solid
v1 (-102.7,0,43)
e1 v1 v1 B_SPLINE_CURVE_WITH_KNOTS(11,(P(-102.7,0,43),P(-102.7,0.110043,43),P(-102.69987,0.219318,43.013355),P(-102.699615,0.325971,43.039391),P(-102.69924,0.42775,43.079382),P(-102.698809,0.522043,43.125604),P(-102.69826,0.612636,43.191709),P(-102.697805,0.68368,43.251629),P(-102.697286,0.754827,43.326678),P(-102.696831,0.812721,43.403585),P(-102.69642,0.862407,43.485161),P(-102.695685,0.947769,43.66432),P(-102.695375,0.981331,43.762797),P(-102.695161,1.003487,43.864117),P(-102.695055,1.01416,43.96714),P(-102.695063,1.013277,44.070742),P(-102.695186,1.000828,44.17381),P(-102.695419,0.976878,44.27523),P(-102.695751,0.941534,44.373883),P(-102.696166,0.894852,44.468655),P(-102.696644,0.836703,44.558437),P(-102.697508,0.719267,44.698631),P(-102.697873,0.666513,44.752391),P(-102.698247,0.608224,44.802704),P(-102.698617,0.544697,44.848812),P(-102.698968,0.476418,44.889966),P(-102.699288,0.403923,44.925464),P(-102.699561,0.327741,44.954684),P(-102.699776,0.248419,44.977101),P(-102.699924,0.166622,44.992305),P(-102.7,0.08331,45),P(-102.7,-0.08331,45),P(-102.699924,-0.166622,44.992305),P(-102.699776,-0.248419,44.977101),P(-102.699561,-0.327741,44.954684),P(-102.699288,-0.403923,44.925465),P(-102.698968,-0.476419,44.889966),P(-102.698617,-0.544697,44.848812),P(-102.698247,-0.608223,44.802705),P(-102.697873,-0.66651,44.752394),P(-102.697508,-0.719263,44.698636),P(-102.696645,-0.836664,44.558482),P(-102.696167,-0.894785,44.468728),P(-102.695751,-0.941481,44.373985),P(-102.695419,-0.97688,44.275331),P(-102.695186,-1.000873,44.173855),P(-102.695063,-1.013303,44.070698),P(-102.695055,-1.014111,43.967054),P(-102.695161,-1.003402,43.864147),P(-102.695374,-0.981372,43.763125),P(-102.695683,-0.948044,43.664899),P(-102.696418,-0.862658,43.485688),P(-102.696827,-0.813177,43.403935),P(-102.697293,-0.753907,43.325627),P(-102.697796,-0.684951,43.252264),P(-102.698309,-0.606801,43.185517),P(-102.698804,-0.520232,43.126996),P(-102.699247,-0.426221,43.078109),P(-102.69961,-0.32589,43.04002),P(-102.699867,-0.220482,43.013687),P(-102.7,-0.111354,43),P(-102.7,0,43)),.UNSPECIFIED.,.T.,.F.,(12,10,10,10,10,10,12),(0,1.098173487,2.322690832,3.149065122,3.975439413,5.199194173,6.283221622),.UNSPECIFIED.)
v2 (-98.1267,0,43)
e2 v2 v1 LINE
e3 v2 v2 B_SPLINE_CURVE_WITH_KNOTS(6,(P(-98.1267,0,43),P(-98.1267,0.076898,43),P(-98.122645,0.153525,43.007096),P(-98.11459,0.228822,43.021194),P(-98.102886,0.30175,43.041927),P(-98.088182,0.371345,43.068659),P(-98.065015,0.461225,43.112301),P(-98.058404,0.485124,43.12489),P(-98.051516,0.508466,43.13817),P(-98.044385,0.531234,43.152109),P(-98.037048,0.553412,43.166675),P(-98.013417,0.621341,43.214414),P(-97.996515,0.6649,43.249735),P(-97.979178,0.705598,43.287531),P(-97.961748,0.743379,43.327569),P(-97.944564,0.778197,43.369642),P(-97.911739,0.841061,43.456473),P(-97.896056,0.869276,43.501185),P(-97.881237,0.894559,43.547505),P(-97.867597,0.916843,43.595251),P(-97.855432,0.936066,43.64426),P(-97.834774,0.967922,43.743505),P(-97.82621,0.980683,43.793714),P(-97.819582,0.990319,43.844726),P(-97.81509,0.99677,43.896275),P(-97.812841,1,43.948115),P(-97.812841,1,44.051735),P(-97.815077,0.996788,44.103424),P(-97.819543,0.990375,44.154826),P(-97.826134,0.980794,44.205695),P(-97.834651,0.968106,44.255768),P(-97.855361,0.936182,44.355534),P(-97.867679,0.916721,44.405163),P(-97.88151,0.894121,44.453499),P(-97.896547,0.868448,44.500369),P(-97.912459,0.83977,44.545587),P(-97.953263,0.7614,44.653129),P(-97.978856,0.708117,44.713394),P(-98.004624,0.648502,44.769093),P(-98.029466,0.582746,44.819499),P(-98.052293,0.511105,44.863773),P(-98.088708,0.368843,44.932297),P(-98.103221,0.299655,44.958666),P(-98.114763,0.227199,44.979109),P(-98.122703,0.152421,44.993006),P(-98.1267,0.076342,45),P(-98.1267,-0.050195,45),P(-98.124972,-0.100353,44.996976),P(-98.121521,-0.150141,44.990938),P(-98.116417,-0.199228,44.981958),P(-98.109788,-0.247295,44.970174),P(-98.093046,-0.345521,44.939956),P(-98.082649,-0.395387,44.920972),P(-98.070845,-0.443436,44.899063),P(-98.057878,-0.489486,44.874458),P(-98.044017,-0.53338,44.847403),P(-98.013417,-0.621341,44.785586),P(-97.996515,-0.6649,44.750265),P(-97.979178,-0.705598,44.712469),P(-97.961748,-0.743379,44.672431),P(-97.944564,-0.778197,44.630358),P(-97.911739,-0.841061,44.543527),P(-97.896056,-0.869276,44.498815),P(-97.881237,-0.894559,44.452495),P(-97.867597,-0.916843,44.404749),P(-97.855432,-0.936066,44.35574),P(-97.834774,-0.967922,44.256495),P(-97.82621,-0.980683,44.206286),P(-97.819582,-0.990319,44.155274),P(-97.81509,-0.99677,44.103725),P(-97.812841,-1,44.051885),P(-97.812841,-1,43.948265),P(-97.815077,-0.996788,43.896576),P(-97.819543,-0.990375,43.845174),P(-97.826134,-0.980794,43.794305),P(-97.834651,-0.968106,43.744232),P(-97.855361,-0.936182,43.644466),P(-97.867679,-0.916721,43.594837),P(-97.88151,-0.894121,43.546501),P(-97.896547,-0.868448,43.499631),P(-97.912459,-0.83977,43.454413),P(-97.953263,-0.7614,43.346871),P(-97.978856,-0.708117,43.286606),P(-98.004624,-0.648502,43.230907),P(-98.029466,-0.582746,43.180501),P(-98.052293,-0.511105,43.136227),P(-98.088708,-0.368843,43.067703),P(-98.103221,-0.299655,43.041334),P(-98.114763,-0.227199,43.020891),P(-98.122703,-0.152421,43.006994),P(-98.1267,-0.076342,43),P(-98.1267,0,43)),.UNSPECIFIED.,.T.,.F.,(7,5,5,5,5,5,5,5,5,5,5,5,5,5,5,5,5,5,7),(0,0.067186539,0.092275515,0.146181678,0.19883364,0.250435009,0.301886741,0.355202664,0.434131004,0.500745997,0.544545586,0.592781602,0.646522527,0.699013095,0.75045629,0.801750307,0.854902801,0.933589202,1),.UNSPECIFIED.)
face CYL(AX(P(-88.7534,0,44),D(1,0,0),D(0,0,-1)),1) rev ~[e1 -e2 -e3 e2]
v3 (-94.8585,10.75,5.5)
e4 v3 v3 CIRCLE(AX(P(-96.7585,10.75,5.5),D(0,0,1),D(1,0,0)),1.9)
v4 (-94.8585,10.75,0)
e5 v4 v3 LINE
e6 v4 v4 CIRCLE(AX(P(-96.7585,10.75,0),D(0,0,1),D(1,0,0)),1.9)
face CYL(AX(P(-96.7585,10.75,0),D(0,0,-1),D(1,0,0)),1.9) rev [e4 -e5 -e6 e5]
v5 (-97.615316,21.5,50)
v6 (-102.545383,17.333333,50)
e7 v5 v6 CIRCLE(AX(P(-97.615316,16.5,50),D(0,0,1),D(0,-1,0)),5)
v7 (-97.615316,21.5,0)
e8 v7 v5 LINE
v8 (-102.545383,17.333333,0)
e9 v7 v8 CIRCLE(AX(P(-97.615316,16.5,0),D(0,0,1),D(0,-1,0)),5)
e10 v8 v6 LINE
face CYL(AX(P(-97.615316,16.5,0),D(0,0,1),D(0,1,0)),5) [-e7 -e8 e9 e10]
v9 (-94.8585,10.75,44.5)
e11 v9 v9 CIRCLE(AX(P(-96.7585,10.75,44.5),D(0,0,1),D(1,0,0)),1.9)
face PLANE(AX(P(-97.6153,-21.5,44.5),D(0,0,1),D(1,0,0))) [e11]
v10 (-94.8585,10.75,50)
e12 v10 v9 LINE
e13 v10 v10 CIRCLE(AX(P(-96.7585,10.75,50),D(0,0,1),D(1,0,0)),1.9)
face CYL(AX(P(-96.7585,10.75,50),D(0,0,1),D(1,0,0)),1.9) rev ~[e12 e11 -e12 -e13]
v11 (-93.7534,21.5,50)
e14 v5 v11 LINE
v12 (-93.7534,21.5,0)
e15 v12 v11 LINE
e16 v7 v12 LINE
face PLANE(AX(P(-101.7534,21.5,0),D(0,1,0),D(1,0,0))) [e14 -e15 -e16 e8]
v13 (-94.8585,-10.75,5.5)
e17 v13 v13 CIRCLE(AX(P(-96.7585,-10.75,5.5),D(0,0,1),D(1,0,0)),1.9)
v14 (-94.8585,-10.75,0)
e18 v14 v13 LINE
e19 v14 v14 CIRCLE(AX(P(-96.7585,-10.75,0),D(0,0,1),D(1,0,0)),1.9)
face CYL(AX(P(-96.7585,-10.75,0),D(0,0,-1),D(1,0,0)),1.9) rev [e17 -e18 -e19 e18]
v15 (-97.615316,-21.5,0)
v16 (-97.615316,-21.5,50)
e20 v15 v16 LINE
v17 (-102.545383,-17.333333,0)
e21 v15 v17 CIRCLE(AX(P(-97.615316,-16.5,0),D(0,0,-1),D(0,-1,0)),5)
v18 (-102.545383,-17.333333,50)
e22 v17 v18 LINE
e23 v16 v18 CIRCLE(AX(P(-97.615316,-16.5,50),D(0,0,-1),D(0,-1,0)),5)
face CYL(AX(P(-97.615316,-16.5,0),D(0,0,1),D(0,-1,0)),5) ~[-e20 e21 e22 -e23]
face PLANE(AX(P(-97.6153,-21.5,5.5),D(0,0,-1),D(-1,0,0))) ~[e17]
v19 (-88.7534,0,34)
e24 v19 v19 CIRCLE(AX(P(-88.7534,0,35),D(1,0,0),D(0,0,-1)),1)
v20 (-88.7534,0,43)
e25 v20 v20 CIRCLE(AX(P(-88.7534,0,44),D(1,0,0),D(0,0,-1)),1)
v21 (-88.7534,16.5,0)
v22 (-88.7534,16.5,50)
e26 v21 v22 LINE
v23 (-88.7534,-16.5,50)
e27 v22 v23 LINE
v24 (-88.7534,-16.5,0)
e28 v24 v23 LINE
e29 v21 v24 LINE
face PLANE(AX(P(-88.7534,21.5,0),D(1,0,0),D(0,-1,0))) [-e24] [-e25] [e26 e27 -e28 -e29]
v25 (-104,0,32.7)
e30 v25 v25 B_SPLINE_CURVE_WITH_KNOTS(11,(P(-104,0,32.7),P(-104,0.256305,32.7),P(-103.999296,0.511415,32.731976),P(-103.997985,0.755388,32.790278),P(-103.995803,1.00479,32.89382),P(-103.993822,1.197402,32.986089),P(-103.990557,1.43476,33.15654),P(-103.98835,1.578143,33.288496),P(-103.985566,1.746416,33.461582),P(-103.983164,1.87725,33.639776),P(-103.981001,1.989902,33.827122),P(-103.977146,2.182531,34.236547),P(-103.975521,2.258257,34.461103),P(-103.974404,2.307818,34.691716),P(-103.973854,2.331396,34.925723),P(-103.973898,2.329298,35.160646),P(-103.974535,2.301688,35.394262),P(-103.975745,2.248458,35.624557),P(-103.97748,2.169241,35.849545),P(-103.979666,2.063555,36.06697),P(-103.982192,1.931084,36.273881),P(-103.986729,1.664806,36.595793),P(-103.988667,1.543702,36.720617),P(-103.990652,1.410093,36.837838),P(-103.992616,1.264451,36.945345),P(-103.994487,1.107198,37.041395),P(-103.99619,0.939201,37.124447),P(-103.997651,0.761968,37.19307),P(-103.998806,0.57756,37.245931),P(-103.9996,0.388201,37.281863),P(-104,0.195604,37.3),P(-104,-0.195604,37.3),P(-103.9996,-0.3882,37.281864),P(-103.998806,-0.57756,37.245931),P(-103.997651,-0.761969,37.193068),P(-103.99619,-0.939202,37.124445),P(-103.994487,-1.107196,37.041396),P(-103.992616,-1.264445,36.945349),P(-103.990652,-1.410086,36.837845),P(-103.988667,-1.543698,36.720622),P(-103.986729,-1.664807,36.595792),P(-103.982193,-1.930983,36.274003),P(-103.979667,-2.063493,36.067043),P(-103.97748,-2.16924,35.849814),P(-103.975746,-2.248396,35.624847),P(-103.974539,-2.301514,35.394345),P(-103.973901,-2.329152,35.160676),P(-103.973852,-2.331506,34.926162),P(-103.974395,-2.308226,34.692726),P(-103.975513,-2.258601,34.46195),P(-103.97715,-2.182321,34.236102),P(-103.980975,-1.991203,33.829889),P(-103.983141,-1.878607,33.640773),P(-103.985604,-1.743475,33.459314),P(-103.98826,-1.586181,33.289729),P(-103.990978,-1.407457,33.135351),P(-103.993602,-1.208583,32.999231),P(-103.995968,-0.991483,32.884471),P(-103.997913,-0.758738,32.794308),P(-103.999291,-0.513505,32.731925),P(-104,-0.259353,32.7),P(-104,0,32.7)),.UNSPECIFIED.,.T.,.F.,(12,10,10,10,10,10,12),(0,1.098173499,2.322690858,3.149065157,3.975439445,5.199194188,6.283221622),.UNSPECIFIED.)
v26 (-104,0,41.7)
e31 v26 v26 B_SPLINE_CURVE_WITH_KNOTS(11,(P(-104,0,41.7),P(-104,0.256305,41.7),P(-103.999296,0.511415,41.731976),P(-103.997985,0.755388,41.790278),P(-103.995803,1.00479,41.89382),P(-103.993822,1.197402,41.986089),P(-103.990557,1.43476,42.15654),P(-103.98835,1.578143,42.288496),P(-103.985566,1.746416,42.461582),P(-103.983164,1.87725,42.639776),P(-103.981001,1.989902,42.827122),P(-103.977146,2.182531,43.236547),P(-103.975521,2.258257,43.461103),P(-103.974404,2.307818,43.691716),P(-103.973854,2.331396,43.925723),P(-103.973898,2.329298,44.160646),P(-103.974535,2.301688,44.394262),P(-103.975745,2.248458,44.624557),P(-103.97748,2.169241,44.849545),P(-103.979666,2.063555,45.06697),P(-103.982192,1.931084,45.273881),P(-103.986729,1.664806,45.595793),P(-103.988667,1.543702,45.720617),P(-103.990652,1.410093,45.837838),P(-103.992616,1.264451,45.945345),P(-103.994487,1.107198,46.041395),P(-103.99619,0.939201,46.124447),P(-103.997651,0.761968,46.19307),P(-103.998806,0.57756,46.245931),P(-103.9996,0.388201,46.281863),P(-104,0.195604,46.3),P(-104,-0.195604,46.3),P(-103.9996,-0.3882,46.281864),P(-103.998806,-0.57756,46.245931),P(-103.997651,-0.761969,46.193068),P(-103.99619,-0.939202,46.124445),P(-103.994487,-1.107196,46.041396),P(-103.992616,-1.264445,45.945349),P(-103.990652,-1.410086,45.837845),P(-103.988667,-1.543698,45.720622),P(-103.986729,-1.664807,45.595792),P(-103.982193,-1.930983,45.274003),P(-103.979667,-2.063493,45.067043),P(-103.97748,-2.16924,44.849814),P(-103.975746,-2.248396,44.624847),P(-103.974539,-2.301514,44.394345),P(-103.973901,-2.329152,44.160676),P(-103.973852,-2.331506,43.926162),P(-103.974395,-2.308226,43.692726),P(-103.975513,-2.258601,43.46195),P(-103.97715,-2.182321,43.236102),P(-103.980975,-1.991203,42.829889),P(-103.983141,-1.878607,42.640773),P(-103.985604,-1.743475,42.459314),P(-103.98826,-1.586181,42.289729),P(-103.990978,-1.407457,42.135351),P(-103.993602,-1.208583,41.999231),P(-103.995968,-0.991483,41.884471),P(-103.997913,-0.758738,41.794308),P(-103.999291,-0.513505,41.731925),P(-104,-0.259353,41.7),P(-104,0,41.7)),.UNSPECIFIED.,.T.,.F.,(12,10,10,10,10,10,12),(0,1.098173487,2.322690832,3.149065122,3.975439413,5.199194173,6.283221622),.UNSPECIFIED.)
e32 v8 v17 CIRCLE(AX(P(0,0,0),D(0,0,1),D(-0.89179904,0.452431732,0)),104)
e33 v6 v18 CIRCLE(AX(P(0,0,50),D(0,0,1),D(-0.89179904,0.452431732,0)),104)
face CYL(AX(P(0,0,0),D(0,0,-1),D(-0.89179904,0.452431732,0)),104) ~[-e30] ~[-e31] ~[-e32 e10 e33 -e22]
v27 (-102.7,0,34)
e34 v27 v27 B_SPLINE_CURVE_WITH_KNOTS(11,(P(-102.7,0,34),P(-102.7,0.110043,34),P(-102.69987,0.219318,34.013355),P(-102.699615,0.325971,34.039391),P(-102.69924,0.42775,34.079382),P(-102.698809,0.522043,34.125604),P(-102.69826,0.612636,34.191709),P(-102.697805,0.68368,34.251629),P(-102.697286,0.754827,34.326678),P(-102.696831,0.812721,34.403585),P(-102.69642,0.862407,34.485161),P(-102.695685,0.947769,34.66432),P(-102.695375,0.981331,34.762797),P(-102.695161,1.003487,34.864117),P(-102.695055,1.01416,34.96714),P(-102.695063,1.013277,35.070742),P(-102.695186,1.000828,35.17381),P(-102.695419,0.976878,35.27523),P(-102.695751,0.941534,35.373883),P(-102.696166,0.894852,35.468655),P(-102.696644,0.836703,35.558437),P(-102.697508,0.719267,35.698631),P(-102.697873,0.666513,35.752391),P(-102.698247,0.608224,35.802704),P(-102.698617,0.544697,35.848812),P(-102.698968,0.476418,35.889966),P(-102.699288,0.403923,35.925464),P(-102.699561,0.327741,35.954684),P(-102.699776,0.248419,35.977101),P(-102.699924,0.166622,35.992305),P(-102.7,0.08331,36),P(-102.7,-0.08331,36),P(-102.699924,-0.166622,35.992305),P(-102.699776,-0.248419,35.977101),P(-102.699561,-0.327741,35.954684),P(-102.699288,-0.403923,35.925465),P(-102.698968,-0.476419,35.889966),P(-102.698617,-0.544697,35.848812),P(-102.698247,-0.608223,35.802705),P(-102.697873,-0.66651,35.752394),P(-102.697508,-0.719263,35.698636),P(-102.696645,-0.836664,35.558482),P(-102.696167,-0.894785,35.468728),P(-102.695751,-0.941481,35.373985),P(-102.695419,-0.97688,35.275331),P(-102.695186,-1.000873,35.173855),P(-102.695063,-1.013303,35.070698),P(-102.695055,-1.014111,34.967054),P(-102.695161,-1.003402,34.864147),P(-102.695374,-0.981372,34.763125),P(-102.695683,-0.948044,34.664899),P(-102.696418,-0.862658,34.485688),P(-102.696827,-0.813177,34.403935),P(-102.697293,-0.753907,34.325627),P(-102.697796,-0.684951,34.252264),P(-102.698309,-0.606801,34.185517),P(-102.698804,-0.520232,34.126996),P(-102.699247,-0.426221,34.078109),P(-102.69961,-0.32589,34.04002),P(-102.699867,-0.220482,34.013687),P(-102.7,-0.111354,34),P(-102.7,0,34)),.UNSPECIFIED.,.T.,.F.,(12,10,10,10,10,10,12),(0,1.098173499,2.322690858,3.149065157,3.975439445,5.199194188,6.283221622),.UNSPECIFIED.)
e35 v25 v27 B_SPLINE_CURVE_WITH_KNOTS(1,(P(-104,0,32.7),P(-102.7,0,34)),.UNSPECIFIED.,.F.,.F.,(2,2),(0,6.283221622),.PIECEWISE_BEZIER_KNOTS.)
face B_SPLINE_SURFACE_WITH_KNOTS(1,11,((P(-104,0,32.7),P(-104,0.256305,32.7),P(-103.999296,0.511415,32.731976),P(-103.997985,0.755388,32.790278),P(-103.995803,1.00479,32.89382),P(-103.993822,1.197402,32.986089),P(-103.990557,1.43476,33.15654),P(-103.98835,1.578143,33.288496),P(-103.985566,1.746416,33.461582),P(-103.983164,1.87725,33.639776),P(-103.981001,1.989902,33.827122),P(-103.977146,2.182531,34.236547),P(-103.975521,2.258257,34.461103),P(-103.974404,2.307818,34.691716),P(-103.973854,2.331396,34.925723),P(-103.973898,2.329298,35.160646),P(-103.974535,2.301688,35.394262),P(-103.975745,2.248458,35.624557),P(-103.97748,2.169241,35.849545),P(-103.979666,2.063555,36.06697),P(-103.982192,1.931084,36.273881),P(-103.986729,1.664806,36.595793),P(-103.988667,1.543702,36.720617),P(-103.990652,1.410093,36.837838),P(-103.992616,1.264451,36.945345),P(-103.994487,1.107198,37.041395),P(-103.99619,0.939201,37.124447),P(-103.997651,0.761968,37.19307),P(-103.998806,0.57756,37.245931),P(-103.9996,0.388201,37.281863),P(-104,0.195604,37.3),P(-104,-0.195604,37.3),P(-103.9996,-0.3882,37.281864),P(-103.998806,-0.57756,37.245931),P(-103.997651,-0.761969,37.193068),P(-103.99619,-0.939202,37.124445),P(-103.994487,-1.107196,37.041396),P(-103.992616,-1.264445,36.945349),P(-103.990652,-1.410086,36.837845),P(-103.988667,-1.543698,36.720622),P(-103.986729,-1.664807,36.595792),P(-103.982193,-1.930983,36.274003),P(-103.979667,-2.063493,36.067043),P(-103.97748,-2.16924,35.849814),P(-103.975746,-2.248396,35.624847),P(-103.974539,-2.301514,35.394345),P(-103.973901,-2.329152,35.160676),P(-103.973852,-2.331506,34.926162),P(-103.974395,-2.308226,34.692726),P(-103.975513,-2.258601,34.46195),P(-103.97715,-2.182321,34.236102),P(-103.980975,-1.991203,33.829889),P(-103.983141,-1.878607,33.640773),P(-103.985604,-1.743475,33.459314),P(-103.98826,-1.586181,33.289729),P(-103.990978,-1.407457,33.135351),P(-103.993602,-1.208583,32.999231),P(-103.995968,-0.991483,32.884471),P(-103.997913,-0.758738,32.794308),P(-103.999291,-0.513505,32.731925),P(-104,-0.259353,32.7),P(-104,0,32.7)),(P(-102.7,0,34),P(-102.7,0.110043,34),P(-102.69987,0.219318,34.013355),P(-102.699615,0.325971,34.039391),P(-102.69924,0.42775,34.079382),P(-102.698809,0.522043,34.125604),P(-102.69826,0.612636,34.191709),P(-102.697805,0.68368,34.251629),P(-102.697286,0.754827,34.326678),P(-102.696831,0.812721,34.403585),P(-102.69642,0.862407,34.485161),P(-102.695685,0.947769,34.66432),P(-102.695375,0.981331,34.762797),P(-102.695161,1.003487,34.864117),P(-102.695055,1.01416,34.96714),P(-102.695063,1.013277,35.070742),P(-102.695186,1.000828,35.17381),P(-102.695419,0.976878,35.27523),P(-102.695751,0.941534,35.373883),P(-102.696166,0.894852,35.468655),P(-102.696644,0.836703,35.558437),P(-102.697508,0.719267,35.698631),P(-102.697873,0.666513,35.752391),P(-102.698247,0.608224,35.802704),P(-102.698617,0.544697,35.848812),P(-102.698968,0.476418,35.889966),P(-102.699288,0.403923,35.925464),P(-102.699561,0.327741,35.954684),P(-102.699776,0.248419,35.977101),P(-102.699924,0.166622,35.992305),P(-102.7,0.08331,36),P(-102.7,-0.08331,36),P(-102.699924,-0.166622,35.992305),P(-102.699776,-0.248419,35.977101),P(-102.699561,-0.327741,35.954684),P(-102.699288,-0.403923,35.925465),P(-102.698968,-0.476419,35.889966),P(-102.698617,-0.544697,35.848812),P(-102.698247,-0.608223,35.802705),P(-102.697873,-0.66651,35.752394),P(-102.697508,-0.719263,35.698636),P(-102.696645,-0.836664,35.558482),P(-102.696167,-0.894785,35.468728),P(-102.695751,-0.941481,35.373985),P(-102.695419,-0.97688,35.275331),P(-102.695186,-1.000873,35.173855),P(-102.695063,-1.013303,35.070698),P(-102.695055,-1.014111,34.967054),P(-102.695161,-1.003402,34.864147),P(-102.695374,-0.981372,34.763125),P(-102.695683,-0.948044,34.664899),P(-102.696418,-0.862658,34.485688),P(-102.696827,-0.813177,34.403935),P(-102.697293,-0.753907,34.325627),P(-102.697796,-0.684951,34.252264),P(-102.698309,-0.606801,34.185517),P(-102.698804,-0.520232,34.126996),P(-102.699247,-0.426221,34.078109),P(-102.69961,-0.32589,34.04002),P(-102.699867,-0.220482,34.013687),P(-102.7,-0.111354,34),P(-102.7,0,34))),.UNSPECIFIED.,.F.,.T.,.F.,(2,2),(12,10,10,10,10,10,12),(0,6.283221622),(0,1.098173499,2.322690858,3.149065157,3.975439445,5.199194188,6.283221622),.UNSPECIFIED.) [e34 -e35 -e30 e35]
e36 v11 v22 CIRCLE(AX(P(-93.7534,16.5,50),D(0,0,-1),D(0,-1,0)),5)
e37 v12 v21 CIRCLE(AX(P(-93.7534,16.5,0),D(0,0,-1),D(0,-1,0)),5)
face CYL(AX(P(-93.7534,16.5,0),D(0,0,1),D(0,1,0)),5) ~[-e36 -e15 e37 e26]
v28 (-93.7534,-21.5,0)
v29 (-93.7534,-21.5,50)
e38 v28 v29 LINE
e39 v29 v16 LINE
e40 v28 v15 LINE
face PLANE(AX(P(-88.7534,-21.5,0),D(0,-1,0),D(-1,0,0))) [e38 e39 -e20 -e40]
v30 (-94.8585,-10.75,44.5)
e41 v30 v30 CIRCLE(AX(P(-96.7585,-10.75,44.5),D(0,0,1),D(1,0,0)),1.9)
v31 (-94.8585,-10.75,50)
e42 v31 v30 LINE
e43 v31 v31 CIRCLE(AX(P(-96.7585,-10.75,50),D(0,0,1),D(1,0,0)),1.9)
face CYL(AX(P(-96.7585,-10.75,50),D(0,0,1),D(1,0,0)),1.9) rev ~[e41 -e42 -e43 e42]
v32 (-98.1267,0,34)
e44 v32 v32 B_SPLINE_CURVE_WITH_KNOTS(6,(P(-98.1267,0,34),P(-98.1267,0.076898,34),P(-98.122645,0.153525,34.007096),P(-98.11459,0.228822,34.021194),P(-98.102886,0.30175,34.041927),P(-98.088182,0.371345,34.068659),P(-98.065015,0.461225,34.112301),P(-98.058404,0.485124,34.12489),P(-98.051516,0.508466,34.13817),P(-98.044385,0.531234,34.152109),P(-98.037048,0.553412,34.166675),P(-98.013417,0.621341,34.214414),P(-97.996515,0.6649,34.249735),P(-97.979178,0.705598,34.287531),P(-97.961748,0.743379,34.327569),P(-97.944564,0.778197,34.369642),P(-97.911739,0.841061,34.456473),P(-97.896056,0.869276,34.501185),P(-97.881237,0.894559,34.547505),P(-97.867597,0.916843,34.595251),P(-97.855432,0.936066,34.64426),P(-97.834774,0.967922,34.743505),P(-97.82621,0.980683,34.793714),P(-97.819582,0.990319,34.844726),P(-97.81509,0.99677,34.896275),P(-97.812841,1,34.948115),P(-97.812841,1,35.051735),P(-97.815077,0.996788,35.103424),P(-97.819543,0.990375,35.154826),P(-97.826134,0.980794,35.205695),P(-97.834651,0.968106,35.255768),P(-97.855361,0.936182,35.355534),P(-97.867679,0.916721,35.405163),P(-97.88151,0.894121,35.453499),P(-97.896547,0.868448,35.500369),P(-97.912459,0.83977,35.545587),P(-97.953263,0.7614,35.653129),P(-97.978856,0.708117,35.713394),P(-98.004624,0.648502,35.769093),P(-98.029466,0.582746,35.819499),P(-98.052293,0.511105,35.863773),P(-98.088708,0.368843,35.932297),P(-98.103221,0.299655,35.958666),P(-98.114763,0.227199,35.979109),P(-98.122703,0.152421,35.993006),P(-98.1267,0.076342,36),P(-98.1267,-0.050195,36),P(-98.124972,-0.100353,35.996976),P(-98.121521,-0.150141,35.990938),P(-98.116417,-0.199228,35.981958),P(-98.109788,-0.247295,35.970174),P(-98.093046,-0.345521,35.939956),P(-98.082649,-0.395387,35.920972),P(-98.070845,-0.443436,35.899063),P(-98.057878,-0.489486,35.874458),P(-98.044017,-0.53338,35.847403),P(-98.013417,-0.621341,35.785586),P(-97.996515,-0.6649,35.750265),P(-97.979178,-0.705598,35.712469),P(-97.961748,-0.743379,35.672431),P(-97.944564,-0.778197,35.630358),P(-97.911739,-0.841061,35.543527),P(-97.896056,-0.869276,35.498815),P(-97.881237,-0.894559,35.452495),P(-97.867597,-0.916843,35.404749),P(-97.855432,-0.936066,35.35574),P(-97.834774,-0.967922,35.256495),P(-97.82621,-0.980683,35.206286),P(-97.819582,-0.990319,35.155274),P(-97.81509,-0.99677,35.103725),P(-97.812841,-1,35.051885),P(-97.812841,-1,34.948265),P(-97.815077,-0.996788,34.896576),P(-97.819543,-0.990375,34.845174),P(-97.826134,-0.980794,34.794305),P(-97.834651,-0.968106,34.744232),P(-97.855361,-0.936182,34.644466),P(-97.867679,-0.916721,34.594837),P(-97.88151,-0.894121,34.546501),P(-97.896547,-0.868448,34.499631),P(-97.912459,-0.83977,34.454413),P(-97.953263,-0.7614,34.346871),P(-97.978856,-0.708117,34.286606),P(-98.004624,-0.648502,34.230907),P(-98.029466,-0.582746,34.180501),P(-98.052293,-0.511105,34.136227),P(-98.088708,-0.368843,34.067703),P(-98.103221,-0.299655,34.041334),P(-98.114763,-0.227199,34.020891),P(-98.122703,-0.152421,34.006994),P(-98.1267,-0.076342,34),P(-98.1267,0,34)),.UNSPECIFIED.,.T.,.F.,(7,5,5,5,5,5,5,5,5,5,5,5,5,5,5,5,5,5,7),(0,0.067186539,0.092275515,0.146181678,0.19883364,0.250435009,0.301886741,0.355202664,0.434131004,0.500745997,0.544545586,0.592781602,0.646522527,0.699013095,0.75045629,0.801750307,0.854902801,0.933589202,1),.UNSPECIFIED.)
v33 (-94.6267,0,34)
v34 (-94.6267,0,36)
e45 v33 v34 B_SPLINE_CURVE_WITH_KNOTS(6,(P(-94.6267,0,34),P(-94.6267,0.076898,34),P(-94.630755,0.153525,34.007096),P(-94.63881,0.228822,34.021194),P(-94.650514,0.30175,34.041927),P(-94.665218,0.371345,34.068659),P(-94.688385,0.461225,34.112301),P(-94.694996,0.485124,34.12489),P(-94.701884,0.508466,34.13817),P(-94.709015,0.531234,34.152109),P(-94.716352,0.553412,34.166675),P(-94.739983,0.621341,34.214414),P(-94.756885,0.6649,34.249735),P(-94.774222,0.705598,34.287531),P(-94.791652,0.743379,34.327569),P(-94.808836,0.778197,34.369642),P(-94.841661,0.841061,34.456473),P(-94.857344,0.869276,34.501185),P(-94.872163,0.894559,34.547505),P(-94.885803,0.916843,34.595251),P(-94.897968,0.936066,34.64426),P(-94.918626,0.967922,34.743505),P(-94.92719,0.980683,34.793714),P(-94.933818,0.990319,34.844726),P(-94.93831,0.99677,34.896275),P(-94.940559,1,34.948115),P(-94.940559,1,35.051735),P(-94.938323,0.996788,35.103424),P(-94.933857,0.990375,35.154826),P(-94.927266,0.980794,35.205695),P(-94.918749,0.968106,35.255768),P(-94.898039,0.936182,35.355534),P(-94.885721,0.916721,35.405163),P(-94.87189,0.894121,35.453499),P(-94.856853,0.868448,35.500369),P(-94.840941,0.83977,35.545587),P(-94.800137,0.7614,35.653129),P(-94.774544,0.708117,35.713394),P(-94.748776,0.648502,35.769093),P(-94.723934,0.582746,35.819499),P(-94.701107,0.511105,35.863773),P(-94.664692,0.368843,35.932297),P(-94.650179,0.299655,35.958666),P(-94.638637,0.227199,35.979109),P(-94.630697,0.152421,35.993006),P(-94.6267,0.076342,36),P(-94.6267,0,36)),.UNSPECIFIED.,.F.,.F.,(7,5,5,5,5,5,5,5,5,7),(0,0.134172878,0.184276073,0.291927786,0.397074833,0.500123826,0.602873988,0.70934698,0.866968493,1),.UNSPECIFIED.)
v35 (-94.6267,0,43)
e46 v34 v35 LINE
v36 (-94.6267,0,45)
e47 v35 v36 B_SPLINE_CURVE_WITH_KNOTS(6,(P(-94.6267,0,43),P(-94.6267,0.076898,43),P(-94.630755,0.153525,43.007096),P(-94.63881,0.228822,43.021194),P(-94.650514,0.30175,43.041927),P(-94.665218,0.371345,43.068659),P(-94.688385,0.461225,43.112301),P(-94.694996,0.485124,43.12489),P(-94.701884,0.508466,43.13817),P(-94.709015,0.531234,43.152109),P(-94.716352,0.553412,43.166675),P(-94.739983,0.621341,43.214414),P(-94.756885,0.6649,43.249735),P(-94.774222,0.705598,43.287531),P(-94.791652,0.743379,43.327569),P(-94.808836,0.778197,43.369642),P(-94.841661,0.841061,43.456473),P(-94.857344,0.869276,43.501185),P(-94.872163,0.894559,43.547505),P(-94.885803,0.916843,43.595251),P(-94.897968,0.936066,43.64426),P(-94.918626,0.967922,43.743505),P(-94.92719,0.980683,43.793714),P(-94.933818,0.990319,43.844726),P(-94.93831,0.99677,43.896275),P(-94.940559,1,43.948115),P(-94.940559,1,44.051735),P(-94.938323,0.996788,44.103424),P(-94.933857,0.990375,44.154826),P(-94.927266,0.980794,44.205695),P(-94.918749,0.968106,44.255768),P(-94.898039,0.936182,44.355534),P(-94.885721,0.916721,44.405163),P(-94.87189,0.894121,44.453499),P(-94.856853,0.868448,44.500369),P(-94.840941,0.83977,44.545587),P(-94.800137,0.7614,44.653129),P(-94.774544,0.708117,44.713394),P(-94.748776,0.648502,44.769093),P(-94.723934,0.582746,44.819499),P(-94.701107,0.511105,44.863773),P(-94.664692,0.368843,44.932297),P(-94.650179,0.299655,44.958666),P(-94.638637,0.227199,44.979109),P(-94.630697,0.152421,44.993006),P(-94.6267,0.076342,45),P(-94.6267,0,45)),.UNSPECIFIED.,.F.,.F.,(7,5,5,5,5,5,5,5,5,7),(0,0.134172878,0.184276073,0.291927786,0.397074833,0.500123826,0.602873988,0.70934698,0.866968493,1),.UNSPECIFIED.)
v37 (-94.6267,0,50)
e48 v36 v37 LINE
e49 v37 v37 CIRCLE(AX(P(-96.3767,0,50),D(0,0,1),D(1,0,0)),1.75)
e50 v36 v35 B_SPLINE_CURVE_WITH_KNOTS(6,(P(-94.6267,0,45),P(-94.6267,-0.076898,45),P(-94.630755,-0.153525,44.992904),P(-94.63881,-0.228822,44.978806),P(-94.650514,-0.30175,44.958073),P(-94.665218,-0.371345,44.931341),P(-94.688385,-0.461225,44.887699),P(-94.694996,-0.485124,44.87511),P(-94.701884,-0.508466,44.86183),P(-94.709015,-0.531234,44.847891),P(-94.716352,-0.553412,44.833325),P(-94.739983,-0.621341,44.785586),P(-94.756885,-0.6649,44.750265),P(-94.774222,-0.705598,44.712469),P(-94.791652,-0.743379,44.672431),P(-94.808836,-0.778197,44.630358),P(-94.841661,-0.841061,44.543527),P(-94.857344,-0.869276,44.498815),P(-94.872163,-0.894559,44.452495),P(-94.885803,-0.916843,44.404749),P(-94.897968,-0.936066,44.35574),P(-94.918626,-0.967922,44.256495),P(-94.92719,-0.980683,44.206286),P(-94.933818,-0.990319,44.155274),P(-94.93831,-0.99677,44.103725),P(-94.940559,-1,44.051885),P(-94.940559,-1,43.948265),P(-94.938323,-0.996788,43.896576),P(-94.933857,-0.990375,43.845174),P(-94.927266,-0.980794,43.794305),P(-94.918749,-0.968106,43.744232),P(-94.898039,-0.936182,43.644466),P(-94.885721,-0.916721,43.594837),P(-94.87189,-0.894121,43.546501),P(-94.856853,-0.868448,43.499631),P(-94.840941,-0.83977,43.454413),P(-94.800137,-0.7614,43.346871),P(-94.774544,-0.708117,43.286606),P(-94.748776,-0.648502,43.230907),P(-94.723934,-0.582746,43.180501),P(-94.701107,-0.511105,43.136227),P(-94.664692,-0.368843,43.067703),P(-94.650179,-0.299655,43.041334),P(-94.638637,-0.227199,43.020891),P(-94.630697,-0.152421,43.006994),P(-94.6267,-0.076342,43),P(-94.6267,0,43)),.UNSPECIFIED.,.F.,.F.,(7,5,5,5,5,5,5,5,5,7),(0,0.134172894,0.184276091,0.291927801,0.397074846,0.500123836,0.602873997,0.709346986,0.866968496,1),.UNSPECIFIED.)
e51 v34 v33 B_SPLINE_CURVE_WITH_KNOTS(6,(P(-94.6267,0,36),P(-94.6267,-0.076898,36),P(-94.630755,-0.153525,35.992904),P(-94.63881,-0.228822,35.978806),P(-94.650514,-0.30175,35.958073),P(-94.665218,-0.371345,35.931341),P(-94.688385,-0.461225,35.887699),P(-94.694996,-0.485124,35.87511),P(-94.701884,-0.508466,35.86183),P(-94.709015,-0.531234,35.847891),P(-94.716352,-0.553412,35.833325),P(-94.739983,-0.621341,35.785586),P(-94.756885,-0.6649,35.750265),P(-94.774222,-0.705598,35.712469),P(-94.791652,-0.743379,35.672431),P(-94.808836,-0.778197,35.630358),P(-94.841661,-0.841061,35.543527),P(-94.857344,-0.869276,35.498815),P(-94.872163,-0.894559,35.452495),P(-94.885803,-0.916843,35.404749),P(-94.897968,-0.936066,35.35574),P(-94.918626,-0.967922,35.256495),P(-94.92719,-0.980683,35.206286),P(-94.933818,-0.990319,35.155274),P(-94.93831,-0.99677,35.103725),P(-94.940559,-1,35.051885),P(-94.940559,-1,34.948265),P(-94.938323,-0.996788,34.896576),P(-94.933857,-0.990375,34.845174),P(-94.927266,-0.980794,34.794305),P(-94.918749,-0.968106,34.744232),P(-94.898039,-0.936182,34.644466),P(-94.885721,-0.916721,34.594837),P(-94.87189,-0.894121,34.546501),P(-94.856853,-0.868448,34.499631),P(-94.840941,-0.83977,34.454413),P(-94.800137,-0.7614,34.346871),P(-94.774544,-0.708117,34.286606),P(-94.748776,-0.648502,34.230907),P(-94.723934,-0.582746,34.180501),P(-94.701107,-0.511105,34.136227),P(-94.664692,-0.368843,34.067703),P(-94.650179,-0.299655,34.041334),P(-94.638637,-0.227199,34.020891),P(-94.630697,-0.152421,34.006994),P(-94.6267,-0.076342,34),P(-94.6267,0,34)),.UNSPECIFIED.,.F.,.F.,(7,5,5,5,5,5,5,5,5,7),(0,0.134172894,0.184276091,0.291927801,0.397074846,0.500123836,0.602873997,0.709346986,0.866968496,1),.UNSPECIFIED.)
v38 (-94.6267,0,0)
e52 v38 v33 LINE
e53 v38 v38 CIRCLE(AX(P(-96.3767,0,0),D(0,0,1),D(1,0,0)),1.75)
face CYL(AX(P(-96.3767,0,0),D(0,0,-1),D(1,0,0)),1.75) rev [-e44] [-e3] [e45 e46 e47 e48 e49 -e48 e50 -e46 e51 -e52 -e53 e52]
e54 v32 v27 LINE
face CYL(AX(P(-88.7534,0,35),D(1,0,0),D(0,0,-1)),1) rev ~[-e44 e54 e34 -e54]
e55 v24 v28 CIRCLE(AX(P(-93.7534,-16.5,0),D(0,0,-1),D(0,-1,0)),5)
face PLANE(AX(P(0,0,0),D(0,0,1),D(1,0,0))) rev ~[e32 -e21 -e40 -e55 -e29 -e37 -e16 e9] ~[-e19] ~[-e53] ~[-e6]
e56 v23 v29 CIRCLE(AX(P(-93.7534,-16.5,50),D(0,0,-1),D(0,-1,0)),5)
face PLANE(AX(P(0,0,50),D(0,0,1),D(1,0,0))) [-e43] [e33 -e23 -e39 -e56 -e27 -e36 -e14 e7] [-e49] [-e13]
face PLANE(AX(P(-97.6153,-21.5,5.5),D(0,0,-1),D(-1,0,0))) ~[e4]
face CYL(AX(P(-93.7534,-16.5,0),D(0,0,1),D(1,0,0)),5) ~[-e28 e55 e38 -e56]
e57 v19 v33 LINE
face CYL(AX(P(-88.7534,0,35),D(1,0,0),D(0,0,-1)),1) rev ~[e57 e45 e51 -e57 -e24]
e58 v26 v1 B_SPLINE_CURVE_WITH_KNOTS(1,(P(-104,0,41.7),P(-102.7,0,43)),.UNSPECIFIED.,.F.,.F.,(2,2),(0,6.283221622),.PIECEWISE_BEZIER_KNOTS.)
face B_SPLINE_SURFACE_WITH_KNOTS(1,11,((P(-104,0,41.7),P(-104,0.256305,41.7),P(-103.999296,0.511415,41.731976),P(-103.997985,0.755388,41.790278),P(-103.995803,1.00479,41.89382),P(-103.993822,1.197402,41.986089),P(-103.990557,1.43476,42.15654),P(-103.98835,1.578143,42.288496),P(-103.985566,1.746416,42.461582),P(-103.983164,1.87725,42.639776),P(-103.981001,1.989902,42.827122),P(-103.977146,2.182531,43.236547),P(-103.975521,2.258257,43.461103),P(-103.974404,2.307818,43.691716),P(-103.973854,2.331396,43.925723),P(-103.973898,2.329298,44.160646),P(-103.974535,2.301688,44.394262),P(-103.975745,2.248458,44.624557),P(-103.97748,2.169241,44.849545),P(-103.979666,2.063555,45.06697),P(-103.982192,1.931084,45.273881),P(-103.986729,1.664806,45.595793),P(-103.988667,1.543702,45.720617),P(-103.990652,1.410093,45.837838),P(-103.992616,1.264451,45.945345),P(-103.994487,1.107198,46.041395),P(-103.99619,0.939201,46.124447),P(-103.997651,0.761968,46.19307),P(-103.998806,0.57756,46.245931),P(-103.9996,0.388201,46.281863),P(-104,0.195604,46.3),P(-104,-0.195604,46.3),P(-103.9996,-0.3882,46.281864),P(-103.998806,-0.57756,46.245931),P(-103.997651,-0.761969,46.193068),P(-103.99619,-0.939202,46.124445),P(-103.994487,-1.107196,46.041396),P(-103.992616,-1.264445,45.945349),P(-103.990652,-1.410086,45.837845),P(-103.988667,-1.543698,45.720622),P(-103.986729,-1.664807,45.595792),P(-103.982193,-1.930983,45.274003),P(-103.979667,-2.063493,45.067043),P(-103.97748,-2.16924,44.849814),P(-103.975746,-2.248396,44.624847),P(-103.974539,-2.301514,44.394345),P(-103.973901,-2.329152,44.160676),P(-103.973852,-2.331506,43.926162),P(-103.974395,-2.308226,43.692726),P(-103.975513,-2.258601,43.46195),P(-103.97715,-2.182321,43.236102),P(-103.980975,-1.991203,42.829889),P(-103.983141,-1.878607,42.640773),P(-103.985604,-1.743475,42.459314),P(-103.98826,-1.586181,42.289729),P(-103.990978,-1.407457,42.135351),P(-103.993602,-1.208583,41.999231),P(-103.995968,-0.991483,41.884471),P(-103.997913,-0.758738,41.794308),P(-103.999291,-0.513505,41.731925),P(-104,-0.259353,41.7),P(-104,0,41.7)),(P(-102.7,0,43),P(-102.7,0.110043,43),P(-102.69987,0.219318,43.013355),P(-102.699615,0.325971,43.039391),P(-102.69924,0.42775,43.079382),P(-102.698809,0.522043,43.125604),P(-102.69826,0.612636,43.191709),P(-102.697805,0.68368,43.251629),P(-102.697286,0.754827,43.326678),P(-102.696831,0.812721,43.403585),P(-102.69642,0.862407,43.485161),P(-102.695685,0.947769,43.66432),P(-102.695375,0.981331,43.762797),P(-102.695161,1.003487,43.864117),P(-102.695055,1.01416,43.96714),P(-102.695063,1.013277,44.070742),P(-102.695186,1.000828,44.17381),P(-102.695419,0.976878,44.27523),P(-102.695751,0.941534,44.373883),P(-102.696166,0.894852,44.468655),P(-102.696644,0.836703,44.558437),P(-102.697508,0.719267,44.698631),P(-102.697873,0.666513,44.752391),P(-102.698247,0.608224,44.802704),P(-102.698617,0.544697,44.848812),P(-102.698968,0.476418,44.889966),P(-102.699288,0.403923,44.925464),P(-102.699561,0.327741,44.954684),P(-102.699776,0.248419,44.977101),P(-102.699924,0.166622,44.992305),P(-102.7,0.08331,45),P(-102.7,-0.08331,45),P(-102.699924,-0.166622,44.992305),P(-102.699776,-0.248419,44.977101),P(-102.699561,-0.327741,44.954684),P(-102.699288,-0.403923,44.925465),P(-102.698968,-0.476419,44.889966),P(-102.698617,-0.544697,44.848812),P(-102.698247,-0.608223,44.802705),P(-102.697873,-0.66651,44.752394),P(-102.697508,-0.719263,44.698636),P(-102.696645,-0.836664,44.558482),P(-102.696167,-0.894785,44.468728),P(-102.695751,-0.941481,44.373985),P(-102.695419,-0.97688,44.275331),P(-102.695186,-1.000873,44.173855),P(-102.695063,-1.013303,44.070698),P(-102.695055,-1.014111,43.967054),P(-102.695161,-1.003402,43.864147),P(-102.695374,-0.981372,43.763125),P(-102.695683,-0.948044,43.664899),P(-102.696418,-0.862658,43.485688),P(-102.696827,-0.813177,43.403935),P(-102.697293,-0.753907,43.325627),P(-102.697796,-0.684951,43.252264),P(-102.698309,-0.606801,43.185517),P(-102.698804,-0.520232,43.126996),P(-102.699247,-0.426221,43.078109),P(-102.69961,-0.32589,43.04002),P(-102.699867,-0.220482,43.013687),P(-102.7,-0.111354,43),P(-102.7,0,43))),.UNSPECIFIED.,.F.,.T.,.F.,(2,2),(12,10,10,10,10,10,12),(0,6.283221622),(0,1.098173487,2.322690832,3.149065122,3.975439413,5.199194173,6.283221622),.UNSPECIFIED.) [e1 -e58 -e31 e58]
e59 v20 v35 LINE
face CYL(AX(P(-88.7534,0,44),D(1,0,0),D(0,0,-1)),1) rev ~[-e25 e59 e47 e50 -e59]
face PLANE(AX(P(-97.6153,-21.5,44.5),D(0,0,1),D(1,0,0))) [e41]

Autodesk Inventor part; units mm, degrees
ref_plane "РабПлоскость1" through (0, 0, 0) normal (0, 0, 1) x (1, 0, 0)
sketch "Эскиз1" plane through (0, 0, 0) normal (0, 0, 1) x (1, 0, 0)
  arc A0 (37.3284, -97.07) -> (37.3284, 97.07) centre (0, 0) ccw projected
  line L0 (-145.6, 0) -> (145.6, 0) construction
  line L1 (-101.7534, 21.5) -> (-88.7534, 21.5)
  line L2 (-88.7534, 21.5) -> (-88.7534, -21.5)
  line L3 (-88.7534, -21.5) -> (-101.7534, -21.5)
  line L4 (-101.7534, -21.5) -> (-101.7534, 21.5) construction
  line L5 (104, 0) -> (-88.7534, 0) construction
  circle A1 centre (-96.3767, 0) radius 1.75
  arc A2 (-92.7471, 47.0529) -> (-92.7471, -47.0529) centre (0, 0) ccw
  point P0 (0, 0)
  point P1 (-101.7534, 0)
  point P2 (-101.7534, 21.5)
  dimension "d0" = 43
  dimension "d1" = 13
ref_plane "РабПлоскость2" through (-75.9237, -75.9237, 50) normal (0, 0, 1) x (0.7071, -0.7071, 0)
extrude "Выдавливание1" add sketch "Эскиз1" along normal up to surface (50 mm away)
fillet "Сопряжение1" radius 5 4 edges at (-88.7534, 21.5, 25) (-88.7534, -21.5, 25) (-101.7534, -21.5, 25) (-101.7534, 21.5, 25)
sketch "Эскиз2" plane through (-88.7534, -16.5, 0) normal (1, 0, 0) x (0, 0, -1)
  line L0 (-50, 18.25) -> (-50, 14.75) projected
  line L1 (0, 14.75) -> (0, 18.25) projected
  circle A0 centre (-44, 16.5) radius 1
  line L2 (-50, 14.75) -> (0, 14.75) projected
  circle A1 centre (-35, 16.5) radius 1
  line L3 (-50, 16.5) -> (0, 16.5) construction
  line L4 (-50, 33) -> (-50, 0) projected
  point P0 (0, 16.5)
  dimension "d6" = 2
  dimension "d9" = 6
  dimension "d10" = 15
extrude "Выдавливание2" cut sketch "Эскиз2" against normal through all
chamfer "Фаска1" distance 1.3 angle 45 2 edges at (-104, 0.0084, 45) (-104, 0.0084, 36)
sketch "Эскиз3" plane through (-97.6153, -21.5, 50) normal (0, 0, 1) x (1, 0, 0)
  line L0 (0.8568, 43) -> (0.8568, 0) construction
  circle A0 centre (0.8568, 21.5) radius 1.8 projected
  line L1 (0, 43) -> (3.8619, 43) construction
  line L2 (3.8619, 0) -> (0, 0) construction
  circle A1 centre (0.8568, 32.25) radius 1.9
  circle A2 centre (0.8568, 10.75) radius 1.9
  point P0 (97.6153, 21.5)
  point P1 (0.8568, 21.5)
  point P2 (-4.1381, 43)
  dimension "d16" = 21.5
  dimension "d17" = 10.75
  dimension "d18" = 10.75
  dimension "d19" = 3.8
extrude "Выдавливание3" cut sketch "Эскиз3" against normal blind 5.5 contours A1 | A2
ref_plane "РабПлоскость3" through (-97.6153, -21.5, 25) normal (0, 0, 1) x (1, 0, 0)
mirror "Зеркальное отражение1" about plane through (-97.6153, -21.5, 25) normal (0, 0, 1) of "Выдавливание3"
equation "\"d17\" = 0.5 * d16"
equation "\"d18\" = d17"
properties part number "крепление ручки"
